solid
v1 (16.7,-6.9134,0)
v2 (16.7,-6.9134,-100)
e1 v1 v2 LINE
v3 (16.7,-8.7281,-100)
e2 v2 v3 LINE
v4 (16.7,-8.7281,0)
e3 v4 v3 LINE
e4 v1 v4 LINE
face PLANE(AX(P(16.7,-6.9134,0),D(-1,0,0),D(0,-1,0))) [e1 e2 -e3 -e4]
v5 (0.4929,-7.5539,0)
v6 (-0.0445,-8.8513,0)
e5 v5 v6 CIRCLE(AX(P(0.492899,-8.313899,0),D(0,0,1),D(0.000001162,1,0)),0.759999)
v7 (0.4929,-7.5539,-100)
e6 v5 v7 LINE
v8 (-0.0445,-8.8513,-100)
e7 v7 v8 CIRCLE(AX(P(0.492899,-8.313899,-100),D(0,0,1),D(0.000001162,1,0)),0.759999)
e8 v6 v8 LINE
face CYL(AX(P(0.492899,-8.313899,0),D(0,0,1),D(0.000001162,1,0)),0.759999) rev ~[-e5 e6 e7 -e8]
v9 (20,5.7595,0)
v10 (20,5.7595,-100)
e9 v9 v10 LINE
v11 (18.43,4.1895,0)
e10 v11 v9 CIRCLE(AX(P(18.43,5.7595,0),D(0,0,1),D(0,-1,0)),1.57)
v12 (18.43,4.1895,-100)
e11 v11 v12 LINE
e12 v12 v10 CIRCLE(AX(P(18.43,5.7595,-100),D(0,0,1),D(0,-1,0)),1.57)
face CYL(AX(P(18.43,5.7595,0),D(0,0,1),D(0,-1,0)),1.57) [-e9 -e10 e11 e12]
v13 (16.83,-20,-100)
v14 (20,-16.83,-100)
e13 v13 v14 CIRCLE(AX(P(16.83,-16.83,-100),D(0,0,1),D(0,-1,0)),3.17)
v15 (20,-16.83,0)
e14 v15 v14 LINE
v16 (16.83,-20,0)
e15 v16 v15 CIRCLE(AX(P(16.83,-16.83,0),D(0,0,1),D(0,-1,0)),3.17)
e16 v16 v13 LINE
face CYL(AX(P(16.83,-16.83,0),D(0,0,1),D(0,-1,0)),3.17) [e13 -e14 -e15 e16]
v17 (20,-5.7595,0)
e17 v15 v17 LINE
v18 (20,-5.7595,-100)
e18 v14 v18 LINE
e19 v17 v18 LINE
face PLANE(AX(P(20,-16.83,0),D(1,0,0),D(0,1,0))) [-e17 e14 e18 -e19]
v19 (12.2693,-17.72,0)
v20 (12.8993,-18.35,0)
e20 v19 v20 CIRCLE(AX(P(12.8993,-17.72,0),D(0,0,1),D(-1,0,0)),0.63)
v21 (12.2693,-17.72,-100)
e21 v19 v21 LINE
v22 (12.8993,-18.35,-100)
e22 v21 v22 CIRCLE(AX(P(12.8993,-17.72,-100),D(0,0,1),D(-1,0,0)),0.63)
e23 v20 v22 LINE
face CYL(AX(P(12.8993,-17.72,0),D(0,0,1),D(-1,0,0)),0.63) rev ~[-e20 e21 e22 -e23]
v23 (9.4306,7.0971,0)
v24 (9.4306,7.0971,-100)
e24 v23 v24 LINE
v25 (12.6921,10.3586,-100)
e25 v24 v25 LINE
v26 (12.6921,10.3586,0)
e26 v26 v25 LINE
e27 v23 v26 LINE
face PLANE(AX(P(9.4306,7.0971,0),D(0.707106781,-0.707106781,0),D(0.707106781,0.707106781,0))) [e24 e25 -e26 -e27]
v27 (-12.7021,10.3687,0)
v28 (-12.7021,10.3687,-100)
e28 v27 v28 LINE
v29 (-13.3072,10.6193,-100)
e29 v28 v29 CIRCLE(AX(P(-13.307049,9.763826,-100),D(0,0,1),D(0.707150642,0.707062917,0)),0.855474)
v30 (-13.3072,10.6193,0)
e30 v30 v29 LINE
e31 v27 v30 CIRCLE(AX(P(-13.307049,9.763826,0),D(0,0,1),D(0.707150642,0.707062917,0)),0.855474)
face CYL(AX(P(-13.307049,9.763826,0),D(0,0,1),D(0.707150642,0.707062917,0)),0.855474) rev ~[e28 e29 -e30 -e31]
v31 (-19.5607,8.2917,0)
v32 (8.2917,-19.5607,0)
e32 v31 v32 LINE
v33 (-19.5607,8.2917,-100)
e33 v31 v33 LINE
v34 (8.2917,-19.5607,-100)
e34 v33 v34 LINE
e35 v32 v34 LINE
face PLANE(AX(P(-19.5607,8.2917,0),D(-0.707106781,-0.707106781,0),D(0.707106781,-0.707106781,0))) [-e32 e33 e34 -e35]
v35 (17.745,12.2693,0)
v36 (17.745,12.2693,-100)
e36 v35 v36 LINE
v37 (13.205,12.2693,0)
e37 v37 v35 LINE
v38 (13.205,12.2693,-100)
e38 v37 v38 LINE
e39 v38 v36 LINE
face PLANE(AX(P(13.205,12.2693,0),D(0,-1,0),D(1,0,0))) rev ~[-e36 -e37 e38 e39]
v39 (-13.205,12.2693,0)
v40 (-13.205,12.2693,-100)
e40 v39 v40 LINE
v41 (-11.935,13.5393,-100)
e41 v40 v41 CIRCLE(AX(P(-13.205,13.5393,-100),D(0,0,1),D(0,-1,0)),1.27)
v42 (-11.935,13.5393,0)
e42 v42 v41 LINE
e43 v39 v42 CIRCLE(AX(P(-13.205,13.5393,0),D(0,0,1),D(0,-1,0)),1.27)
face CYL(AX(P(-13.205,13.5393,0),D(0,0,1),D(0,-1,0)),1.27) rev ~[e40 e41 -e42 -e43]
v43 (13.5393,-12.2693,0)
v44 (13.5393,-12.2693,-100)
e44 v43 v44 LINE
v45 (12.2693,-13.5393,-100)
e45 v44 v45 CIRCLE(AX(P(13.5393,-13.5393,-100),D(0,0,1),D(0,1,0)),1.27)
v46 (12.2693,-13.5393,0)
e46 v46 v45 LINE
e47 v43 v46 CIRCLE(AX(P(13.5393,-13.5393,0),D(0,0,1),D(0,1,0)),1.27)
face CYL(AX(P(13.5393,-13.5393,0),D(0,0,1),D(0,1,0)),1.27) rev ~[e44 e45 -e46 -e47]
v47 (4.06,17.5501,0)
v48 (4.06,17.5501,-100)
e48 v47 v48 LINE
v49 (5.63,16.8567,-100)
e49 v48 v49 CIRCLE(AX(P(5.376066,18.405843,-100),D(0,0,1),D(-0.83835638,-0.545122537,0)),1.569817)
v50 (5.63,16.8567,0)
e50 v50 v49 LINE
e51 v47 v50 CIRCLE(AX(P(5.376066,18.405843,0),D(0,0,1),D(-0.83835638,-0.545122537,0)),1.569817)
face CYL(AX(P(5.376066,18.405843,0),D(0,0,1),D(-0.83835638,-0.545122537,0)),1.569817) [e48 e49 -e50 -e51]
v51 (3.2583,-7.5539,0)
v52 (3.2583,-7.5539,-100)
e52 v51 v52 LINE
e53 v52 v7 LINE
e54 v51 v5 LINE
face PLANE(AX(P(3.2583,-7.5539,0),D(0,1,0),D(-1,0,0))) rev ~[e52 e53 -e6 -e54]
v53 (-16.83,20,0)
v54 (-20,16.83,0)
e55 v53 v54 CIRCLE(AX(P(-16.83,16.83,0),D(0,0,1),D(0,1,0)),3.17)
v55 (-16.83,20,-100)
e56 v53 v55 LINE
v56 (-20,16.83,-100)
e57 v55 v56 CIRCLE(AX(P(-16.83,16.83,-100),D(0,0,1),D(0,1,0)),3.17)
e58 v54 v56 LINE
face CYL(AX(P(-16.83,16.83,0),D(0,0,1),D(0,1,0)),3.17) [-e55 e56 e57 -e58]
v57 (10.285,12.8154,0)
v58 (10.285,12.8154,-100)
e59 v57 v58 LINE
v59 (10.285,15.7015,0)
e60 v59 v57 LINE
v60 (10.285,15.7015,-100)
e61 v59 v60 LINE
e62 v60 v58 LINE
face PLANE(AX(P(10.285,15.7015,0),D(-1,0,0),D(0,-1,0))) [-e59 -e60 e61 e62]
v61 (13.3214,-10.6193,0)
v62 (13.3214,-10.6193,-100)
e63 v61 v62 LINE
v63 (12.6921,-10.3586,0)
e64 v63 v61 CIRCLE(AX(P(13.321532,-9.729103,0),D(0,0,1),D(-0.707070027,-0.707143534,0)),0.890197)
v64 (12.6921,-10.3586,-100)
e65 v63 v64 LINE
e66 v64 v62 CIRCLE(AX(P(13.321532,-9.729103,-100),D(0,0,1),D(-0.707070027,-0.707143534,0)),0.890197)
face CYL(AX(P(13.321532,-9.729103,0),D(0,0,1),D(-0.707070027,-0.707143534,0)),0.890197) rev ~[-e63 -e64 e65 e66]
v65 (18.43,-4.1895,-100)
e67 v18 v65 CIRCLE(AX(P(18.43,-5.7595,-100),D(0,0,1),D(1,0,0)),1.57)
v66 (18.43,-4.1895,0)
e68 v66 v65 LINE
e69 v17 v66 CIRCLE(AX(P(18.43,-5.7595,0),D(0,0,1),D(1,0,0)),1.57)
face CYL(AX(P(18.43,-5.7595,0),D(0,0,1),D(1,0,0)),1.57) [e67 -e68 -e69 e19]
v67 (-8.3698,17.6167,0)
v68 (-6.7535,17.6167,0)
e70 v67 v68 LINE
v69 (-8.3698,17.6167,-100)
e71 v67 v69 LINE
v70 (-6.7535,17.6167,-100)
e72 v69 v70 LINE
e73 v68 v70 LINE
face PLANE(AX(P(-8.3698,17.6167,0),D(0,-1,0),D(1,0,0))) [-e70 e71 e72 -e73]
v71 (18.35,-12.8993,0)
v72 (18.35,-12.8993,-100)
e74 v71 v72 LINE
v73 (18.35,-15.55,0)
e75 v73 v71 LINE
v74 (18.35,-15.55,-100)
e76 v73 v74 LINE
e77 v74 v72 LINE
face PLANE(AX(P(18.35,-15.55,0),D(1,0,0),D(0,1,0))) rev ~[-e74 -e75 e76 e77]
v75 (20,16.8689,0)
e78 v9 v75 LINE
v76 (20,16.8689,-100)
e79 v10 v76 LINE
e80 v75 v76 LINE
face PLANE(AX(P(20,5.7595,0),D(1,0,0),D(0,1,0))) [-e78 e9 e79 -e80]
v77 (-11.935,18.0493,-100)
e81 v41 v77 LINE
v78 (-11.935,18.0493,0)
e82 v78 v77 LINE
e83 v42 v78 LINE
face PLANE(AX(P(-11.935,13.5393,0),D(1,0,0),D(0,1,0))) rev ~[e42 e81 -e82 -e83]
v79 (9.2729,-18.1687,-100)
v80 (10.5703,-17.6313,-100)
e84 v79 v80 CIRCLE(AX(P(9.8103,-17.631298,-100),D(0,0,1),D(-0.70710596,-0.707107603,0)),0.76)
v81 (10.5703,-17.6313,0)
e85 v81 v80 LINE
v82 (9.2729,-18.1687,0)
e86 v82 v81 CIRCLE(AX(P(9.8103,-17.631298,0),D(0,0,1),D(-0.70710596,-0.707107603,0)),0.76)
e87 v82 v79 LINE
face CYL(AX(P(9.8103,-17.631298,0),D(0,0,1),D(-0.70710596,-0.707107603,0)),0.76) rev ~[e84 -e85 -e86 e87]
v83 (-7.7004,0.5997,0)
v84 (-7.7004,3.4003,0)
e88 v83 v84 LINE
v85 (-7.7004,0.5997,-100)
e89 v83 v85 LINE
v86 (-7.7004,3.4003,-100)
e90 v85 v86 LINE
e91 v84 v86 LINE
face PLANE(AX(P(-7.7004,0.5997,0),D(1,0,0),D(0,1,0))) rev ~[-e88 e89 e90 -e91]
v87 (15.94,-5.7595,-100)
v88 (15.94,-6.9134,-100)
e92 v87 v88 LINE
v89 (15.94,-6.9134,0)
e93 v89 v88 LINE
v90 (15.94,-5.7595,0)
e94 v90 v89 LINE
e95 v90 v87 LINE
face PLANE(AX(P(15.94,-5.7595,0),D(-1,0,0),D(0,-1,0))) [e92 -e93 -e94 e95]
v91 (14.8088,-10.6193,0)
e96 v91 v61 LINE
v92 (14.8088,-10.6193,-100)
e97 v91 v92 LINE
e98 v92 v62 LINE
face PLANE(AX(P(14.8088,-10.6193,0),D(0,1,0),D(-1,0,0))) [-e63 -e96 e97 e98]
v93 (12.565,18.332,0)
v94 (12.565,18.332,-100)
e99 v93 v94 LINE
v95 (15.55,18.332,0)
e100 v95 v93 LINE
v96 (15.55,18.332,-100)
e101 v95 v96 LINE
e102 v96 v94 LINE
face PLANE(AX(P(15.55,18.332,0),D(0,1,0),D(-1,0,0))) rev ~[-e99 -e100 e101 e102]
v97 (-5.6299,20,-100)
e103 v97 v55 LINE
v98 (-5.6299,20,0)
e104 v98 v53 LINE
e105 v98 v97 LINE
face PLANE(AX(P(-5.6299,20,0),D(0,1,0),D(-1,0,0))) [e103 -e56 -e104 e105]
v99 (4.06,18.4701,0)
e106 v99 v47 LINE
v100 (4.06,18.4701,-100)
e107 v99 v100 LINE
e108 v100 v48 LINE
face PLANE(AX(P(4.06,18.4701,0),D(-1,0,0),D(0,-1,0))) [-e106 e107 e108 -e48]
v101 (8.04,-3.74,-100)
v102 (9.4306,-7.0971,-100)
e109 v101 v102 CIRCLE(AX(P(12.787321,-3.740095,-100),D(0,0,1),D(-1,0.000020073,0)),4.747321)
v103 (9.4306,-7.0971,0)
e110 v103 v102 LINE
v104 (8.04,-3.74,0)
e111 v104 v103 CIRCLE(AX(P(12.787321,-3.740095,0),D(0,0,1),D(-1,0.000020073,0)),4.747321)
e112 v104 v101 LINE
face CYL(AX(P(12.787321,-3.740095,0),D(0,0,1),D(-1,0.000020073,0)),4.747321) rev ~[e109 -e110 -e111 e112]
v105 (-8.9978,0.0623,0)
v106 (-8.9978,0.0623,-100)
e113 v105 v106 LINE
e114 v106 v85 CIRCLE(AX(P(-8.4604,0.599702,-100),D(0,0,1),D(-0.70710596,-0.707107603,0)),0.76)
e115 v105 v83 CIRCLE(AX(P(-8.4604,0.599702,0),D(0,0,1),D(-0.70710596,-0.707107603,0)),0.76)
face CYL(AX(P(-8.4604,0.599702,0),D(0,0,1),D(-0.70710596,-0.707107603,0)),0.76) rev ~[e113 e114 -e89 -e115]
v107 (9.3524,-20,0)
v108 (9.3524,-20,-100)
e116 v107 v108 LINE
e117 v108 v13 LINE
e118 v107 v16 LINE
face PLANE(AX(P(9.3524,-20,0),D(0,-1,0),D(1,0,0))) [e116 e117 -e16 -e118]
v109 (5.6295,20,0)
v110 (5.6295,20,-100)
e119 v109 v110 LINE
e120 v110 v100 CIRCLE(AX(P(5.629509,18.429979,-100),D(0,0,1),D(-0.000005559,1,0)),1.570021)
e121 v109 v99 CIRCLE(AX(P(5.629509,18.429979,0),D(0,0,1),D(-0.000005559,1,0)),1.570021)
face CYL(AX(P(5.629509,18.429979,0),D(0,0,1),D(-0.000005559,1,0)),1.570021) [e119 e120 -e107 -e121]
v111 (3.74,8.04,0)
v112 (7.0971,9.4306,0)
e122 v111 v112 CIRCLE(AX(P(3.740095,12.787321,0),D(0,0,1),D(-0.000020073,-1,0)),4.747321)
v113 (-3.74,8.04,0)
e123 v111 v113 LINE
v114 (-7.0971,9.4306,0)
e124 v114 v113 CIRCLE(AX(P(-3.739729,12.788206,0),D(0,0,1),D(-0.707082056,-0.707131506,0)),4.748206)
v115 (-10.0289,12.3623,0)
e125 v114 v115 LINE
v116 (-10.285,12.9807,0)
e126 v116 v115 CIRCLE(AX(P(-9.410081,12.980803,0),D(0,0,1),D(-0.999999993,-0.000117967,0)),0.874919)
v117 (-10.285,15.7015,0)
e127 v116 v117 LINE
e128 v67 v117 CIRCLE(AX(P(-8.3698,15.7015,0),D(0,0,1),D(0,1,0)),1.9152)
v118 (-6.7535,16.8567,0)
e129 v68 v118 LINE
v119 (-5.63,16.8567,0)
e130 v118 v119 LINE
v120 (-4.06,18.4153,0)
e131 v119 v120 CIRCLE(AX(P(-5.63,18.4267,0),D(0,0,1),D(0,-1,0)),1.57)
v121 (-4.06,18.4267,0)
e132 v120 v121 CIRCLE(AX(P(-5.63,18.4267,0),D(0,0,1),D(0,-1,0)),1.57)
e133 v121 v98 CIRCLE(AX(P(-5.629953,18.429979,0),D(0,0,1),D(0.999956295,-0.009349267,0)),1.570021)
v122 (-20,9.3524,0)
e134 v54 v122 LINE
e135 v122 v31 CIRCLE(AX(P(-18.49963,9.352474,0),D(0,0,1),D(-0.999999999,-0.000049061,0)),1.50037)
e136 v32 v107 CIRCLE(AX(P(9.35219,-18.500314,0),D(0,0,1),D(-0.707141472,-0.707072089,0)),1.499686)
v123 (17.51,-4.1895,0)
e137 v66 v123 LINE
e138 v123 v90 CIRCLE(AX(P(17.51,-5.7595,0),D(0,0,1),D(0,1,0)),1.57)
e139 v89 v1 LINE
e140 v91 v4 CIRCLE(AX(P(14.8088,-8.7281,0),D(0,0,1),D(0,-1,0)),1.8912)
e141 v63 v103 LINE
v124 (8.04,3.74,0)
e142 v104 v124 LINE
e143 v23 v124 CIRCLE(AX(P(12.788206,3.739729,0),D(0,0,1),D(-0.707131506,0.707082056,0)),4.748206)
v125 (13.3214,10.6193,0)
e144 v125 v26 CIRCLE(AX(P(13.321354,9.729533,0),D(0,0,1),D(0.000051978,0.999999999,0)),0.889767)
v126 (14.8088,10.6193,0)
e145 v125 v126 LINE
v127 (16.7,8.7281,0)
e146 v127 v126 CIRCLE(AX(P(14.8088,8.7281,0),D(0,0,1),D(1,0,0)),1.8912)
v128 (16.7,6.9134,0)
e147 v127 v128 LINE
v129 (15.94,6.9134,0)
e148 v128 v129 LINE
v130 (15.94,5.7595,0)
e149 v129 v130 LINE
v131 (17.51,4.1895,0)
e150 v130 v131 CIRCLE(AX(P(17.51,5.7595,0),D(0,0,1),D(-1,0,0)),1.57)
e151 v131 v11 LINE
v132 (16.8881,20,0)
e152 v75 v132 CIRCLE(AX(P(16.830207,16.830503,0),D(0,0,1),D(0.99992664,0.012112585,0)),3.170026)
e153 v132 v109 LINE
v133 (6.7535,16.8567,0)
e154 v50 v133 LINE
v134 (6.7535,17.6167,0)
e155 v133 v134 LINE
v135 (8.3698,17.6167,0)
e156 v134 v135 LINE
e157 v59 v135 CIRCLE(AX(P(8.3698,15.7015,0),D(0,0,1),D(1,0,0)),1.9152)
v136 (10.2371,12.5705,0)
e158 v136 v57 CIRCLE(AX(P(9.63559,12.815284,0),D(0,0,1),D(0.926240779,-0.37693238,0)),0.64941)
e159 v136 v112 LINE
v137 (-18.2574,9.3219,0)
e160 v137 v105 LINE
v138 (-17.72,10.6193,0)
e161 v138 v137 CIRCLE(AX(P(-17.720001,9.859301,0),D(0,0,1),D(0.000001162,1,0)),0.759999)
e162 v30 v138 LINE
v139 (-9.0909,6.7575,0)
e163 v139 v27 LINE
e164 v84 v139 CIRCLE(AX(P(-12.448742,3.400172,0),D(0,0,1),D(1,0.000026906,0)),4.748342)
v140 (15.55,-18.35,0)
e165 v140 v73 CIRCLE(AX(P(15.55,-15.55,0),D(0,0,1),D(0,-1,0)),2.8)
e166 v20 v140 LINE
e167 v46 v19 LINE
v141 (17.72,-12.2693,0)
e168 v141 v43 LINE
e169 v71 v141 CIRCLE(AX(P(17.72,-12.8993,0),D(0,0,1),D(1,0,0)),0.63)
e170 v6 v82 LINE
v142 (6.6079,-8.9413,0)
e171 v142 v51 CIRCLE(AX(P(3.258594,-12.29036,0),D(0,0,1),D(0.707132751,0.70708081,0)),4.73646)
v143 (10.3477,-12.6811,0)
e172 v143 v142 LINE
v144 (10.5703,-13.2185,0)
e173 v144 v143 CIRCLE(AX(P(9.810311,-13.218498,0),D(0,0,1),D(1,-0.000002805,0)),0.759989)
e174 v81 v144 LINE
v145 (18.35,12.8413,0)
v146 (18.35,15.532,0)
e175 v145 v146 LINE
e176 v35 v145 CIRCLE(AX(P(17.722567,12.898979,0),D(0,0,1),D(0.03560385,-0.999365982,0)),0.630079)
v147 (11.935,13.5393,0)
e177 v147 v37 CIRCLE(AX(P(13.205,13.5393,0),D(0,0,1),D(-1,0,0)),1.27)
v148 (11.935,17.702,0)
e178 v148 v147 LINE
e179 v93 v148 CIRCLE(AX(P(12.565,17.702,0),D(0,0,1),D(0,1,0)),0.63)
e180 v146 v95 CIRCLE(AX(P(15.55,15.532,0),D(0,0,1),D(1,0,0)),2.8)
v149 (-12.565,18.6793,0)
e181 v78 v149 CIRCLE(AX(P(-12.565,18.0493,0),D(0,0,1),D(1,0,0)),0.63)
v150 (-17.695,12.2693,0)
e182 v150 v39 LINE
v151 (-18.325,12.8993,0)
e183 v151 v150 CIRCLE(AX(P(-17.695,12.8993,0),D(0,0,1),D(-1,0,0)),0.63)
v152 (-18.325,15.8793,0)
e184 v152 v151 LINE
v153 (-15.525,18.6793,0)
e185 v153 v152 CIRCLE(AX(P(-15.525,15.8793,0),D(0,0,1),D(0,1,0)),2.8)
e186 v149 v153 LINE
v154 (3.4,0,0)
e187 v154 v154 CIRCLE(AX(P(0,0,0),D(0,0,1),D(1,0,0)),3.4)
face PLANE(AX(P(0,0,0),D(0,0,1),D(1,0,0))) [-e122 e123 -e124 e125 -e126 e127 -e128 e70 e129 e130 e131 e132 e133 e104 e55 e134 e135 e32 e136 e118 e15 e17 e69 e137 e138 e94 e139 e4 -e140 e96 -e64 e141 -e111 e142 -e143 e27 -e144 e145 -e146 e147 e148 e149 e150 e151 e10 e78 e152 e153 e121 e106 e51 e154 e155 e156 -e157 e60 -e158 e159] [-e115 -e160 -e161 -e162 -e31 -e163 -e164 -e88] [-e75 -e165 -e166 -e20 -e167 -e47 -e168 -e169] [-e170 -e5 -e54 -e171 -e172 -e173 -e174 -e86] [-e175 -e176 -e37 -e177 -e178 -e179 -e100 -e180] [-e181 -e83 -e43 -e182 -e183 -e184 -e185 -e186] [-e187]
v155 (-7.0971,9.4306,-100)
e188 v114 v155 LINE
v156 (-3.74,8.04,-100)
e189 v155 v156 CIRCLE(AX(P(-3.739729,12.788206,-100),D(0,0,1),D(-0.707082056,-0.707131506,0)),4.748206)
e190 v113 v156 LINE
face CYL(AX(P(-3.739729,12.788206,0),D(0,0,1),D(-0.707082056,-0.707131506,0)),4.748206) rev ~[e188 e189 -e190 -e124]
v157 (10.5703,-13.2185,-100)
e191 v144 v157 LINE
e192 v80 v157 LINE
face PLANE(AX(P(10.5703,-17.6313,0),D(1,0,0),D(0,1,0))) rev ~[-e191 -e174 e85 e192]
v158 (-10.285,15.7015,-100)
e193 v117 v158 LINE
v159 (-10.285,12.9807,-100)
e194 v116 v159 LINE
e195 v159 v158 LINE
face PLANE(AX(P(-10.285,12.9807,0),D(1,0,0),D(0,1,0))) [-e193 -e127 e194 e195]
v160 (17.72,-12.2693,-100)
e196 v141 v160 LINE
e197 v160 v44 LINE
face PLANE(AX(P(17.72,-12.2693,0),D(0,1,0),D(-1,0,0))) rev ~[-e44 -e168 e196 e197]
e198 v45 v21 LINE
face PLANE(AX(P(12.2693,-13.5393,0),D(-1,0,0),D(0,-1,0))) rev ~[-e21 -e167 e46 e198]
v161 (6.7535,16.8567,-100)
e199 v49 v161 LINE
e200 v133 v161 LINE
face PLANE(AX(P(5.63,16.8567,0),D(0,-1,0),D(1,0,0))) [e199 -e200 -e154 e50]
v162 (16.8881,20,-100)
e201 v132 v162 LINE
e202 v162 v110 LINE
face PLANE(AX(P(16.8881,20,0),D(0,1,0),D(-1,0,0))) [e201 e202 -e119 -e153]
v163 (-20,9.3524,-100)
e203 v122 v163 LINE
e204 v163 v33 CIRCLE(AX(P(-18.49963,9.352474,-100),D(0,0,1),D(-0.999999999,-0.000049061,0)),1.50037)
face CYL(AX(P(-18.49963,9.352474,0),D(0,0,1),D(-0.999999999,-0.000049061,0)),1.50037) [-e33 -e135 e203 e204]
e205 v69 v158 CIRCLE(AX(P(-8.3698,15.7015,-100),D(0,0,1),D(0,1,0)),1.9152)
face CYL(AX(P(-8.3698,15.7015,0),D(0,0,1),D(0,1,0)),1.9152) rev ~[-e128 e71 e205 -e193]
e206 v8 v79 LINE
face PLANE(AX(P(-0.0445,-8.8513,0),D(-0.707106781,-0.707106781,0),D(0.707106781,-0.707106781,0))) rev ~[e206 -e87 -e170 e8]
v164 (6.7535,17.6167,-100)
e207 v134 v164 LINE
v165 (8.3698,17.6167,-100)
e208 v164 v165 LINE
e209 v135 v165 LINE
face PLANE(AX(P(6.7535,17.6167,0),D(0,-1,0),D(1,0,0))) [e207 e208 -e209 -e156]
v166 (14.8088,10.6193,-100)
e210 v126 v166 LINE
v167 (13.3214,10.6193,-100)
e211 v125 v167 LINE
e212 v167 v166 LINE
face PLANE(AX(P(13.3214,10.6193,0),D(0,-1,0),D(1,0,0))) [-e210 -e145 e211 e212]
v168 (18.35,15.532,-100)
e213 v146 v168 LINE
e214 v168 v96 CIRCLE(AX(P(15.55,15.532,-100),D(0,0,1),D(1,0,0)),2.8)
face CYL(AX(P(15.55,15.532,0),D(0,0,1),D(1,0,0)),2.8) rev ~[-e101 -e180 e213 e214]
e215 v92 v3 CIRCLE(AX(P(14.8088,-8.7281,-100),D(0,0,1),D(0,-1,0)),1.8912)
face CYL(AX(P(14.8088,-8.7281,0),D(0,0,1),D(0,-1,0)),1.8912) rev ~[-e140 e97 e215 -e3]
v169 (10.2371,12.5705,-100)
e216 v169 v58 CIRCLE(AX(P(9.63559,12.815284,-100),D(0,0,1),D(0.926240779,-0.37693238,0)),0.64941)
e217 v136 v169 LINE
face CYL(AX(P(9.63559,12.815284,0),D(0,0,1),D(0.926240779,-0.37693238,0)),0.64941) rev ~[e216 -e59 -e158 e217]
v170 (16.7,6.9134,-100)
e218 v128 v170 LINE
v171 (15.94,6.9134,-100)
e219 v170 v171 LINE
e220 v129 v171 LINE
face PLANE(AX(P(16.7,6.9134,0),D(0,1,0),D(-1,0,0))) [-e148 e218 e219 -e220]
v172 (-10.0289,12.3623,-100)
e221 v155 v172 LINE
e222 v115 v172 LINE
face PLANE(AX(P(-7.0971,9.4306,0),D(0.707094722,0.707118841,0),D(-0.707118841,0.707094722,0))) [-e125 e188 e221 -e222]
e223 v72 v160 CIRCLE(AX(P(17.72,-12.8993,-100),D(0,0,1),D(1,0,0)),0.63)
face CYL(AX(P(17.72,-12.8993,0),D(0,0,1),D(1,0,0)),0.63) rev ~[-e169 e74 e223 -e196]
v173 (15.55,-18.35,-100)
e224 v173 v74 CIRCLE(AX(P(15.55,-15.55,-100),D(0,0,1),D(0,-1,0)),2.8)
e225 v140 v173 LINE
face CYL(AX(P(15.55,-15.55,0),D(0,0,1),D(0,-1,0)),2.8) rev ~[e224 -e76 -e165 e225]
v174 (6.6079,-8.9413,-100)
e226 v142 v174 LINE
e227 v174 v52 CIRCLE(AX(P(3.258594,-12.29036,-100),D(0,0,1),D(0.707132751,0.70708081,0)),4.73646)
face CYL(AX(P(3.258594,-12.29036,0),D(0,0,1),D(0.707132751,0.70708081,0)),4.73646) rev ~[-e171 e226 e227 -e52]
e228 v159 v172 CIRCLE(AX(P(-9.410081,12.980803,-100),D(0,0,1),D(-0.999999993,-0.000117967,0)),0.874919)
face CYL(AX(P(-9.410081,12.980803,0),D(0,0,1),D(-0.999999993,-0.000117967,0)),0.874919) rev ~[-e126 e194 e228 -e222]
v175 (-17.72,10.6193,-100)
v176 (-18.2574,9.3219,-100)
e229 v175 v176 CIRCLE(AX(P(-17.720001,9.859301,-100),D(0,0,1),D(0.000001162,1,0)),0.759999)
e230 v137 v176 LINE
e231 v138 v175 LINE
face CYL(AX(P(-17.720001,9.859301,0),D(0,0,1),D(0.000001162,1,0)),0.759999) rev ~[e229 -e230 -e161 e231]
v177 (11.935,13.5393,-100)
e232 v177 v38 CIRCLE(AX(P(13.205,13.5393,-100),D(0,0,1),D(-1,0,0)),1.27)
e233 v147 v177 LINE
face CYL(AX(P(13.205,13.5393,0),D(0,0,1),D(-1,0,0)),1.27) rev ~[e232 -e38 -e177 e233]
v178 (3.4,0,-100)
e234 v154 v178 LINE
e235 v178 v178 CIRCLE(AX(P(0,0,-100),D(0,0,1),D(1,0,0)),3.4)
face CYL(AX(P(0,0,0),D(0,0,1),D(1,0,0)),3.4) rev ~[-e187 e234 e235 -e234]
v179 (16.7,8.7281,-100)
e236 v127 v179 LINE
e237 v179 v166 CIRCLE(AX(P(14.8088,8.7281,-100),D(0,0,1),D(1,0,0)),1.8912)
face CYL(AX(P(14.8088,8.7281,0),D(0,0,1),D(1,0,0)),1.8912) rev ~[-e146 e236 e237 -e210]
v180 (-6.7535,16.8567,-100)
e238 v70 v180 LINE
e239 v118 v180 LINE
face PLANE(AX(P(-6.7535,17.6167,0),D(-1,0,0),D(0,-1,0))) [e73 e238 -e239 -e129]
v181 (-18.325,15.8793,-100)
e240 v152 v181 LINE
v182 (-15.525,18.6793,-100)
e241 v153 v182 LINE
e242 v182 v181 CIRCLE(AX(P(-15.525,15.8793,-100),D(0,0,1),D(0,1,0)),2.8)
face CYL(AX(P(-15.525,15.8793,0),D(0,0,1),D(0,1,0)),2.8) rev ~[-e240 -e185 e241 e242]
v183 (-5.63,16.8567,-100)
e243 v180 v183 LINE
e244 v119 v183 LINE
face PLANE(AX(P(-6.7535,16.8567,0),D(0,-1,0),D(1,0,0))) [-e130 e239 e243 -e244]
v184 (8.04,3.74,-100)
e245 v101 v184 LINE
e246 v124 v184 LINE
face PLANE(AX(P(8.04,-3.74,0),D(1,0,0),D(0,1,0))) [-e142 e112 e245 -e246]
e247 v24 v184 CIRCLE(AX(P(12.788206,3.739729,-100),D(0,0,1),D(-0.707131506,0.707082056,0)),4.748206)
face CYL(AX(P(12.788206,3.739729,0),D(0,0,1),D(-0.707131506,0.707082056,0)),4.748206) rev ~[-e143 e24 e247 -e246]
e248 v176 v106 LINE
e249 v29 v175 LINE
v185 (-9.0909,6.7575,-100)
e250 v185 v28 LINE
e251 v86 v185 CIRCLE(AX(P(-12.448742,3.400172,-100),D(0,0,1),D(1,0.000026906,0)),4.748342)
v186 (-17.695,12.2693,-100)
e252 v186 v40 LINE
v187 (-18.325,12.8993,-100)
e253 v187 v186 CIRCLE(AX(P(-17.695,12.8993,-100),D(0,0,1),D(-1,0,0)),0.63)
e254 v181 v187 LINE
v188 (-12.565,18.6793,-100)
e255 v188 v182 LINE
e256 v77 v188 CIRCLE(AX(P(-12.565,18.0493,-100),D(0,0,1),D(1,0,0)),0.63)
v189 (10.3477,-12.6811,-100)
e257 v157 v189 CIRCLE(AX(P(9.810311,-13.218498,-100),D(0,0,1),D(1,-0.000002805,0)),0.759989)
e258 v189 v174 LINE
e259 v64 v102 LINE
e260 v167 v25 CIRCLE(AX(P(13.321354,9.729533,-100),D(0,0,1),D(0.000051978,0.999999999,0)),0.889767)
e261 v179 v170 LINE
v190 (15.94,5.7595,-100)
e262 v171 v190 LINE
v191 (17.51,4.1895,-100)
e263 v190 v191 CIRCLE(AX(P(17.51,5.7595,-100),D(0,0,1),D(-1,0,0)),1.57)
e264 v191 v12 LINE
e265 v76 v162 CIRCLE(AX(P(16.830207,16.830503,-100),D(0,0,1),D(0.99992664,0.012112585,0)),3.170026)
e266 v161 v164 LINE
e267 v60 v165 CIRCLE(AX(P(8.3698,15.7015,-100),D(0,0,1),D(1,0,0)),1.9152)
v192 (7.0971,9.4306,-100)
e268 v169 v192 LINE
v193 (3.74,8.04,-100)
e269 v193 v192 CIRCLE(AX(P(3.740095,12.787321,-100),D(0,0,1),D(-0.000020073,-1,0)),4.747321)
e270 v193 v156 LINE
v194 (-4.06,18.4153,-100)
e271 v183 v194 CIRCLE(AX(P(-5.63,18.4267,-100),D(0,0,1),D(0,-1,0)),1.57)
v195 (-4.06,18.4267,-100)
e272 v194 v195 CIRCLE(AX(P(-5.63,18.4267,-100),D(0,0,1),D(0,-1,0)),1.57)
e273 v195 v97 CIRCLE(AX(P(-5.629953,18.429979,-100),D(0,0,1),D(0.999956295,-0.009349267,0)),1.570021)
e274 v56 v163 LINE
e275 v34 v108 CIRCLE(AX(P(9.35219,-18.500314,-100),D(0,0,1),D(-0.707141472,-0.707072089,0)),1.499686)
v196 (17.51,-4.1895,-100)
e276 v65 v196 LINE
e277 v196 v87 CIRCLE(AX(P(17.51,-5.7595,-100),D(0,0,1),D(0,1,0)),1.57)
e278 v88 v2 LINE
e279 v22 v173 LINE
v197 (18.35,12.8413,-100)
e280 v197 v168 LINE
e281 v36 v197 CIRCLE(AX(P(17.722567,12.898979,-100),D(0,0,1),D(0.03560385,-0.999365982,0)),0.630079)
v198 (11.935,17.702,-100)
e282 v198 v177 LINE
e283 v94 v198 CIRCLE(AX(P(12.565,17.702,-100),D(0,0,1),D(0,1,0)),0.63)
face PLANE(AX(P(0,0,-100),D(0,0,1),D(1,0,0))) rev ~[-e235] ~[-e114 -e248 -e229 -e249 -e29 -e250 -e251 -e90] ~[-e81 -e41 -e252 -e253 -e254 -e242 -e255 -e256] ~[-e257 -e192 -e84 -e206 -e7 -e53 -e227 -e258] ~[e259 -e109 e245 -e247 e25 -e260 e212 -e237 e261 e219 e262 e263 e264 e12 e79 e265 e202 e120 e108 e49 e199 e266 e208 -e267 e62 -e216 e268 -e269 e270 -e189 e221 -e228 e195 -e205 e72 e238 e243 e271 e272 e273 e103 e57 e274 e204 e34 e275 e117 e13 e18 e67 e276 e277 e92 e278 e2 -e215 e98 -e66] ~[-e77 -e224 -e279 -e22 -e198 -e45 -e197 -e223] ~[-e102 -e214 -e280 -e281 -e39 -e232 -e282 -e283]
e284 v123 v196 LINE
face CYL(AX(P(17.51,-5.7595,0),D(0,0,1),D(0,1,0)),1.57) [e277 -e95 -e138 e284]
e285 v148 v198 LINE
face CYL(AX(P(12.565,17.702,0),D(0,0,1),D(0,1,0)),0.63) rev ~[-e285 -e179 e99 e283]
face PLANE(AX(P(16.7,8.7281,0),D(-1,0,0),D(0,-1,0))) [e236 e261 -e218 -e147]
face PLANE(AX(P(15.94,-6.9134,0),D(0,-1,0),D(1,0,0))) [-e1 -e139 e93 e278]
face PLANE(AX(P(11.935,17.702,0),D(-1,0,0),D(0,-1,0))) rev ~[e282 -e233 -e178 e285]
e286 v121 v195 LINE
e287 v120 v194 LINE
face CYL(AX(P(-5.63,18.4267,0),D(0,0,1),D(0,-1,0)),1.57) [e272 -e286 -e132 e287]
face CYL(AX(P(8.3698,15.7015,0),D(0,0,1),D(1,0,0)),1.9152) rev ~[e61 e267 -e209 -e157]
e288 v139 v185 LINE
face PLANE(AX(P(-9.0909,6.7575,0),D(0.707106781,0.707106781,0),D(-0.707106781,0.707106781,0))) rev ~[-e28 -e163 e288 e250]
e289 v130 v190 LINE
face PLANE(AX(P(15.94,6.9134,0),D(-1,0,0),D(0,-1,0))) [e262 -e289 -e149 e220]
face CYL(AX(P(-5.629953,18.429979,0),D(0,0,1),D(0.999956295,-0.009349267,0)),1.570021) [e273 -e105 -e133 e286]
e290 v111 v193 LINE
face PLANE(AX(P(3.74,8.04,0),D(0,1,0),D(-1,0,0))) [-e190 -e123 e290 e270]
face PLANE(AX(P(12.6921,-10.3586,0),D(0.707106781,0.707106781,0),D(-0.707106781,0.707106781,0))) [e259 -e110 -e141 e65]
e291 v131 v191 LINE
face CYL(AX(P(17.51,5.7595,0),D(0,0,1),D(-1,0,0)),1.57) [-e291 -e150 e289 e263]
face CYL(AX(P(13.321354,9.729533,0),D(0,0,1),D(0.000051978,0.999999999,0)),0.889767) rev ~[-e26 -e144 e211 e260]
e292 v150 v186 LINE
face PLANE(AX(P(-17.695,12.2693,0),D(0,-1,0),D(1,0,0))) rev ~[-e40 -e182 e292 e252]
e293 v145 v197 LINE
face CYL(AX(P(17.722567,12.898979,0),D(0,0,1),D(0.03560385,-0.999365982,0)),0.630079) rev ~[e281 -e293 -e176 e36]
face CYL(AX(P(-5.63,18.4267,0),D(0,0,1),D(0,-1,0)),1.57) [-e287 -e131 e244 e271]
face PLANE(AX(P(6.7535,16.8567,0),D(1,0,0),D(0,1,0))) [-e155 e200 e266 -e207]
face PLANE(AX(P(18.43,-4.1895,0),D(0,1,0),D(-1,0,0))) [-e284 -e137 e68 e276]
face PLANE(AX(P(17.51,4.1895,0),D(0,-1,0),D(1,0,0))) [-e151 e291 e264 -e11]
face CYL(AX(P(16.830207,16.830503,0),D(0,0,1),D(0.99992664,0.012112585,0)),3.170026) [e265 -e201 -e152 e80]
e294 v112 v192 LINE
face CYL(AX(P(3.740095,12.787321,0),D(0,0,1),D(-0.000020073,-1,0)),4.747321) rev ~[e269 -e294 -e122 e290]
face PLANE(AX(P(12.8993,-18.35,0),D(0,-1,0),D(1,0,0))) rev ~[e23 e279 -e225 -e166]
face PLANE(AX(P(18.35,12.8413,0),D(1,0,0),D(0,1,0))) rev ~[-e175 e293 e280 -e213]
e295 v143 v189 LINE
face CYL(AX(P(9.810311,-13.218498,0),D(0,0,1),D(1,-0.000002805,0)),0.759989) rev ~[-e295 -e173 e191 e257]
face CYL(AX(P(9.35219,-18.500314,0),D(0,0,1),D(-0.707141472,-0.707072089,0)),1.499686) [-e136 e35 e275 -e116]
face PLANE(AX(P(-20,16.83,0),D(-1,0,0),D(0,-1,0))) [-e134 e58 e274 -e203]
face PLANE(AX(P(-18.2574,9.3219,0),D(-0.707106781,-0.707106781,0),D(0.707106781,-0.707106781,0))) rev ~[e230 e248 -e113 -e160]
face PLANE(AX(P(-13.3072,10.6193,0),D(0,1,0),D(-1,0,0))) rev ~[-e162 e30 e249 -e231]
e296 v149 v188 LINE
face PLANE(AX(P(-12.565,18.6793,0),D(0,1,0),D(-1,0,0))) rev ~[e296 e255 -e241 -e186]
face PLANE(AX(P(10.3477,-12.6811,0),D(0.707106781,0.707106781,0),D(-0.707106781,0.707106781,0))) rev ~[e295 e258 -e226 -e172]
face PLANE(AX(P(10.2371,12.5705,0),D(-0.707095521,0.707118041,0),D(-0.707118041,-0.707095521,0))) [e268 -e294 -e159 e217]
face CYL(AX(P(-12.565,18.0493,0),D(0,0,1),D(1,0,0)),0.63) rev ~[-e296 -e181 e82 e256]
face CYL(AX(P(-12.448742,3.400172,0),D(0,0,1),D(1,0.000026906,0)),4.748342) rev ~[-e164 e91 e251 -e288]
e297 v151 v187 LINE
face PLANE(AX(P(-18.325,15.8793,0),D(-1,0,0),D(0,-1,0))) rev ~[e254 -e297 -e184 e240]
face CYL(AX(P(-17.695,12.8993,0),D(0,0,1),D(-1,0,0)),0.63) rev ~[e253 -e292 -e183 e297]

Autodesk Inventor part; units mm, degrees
ref_plane "YZ Plane" through (0, 0, 0) normal (1, 0, 0) x (0, 1, 0)
ref_plane "XZ Plane" through (0, 0, 0) normal (0, 1, 0) x (-1, 0, 0)
ref_plane "XY Plane" through (0, 0, 0) normal (0, 0, 1) x (1, 0, 0)
sketch "Sketch1" plane through (0, 0, 0) normal (0, 0, 1) x (1, 0, 0)
  circle A0 centre (0, 0) radius 3.4
  arc A1 (-13.205, 12.2693) -> (-11.935, 13.5393) centre (-13.205, 13.5393) ccw
  line L0 (-17.695, 12.2693) -> (-13.205, 12.2693)
  arc A2 (-18.325, 12.8993) -> (-17.695, 12.2693) centre (-17.695, 12.8993) ccw
  line L1 (-18.325, 15.8793) -> (-18.325, 12.8993)
  arc A3 (-15.525, 18.6793) -> (-18.325, 15.8793) centre (-15.525, 15.8793) ccw
  line L2 (-12.565, 18.6793) -> (-15.525, 18.6793)
  arc A4 (-11.935, 18.0493) -> (-12.565, 18.6793) centre (-12.565, 18.0493) ccw
  line L3 (-11.935, 13.5393) -> (-11.935, 18.0493)
  arc A5 (-7.7004, 3.4003) -> (-9.0909, 6.7575) centre (-12.4481, 3.4003) ccw
  line L4 (-7.7004, 0.5997) -> (-7.7004, 3.4003)
  arc A6 (-8.9978, 0.0623) -> (-7.7004, 0.5997) centre (-8.4604, 0.5997) ccw
  line L5 (-18.2574, 9.3219) -> (-8.9978, 0.0623)
  arc A7 (-17.72, 10.6193) -> (-18.2574, 9.3219) centre (-17.72, 9.8593) ccw
  line L6 (-13.3072, 10.6193) -> (-17.72, 10.6193)
  arc A8 (-12.7021, 10.3687) -> (-13.3072, 10.6193) centre (-13.3072, 9.7636) ccw
  line L7 (-9.0909, 6.7575) -> (-12.7021, 10.3687)
  arc A9 (10.5703, -13.2185) -> (10.3477, -12.6811) centre (9.8103, -13.2185) ccw
  line L8 (10.5703, -17.6313) -> (10.5703, -13.2185)
  arc A10 (9.2729, -18.1687) -> (10.5703, -17.6313) centre (9.8103, -17.6313) ccw
  line L9 (-0.0445, -8.8513) -> (9.2729, -18.1687)
  arc A11 (0.4929, -7.5539) -> (-0.0445, -8.8513) centre (0.4929, -8.3139) ccw
  line L10 (3.2583, -7.5539) -> (0.4929, -7.5539)
  arc A12 (6.6079, -8.9413) -> (3.2583, -7.5539) centre (3.2583, -12.2908) ccw
  line L11 (10.3477, -12.6811) -> (6.6079, -8.9413)
  arc A13 (12.2693, -17.72) -> (12.8993, -18.35) centre (12.8993, -17.72) ccw
  line L12 (12.2693, -13.5393) -> (12.2693, -17.72)
  arc A14 (13.5393, -12.2693) -> (12.2693, -13.5393) centre (13.5393, -13.5393) ccw
  line L13 (17.72, -12.2693) -> (13.5393, -12.2693)
  arc A15 (18.35, -12.8993) -> (17.72, -12.2693) centre (17.72, -12.8993) ccw
  line L14 (18.35, -15.55) -> (18.35, -12.8993)
  arc A16 (15.55, -18.35) -> (18.35, -15.55) centre (15.55, -15.55) ccw
  line L15 (12.8993, -18.35) -> (15.55, -18.35)
  arc A17 (12.565, 18.332) -> (11.935, 17.702) centre (12.565, 17.702) ccw
  line L16 (15.55, 18.332) -> (12.565, 18.332)
  arc A18 (18.35, 15.532) -> (15.55, 18.332) centre (15.55, 15.532) ccw
  line L17 (18.35, 12.8413) -> (18.35, 15.532)
  arc A19 (17.745, 12.2693) -> (18.35, 12.8413) centre (17.7226, 12.8989) ccw
  line L18 (13.205, 12.2693) -> (17.745, 12.2693)
  arc A20 (11.935, 13.5393) -> (13.205, 12.2693) centre (13.205, 13.5393) ccw
  line L19 (11.935, 17.702) -> (11.935, 13.5393)
  arc A21 (8.04, -3.74) -> (9.4306, -7.0971) centre (12.7878, -3.74) ccw
  line L20 (8.04, -3.74) -> (8.04, 3.74)
  arc A22 (9.4306, 7.0971) -> (8.04, 3.74) centre (12.7878, 3.74) ccw
  line L21 (9.4306, 7.0971) -> (12.6921, 10.3586)
  arc A23 (13.3214, 10.6193) -> (12.6921, 10.3586) centre (13.3214, 9.7293) ccw
  line L22 (13.3214, 10.6193) -> (14.8088, 10.6193)
  arc A24 (16.7, 8.7281) -> (14.8088, 10.6193) centre (14.8088, 8.7281) ccw
  line L23 (16.7, 8.7281) -> (16.7, 6.9134)
  line L24 (16.7, 6.9134) -> (15.94, 6.9134)
  line L25 (15.94, 6.9134) -> (15.94, 5.7595)
  arc A25 (15.94, 5.7595) -> (17.51, 4.1895) centre (17.51, 5.7595) ccw
  line L26 (17.51, 4.1895) -> (18.43, 4.1895)
  arc A26 (18.43, 4.1895) -> (20, 5.7595) centre (18.43, 5.7595) ccw
  line L27 (20, 5.7595) -> (20, 16.8689)
  arc A27 (20, 16.8689) -> (16.8881, 20) centre (16.8302, 16.8305) ccw
  line L28 (16.8881, 20) -> (5.6295, 20)
  arc A28 (5.6295, 20) -> (4.06, 18.4701) centre (5.6295, 18.43) ccw
  line L29 (4.06, 18.4701) -> (4.06, 17.5501)
  arc A29 (4.06, 17.5501) -> (5.63, 16.8567) centre (5.3762, 18.406) ccw
  line L30 (5.63, 16.8567) -> (6.7535, 16.8567)
  line L31 (6.7535, 16.8567) -> (6.7535, 17.6167)
  line L32 (6.7535, 17.6167) -> (8.3698, 17.6167)
  arc A30 (10.285, 15.7015) -> (8.3698, 17.6167) centre (8.3698, 15.7015) ccw
  line L33 (10.285, 15.7015) -> (10.285, 12.8154)
  arc A31 (10.2371, 12.5705) -> (10.285, 12.8154) centre (9.6352, 12.8154) ccw
  line L34 (10.2371, 12.5705) -> (7.0971, 9.4306)
  arc A32 (3.74, 8.04) -> (7.0971, 9.4306) centre (3.74, 12.7878) ccw
  line L35 (3.74, 8.04) -> (-3.74, 8.04)
  arc A33 (-7.0971, 9.4306) -> (-3.74, 8.04) centre (-3.74, 12.7878) ccw
  line L36 (-7.0971, 9.4306) -> (-10.0289, 12.3623)
  arc A34 (-10.285, 12.9807) -> (-10.0289, 12.3623) centre (-9.4106, 12.9807) ccw
  line L37 (-10.285, 12.9807) -> (-10.285, 15.7015)
  arc A35 (-8.3698, 17.6167) -> (-10.285, 15.7015) centre (-8.3698, 15.7015) ccw
  line L38 (-8.3698, 17.6167) -> (-6.7535, 17.6167)
  line L39 (-6.7535, 17.6167) -> (-6.7535, 16.8567)
  line L40 (-6.7535, 16.8567) -> (-5.63, 16.8567)
  arc A36 (-5.63, 16.8567) -> (-4.06, 18.4267) centre (-5.63, 18.4267) ccw
  line L41 (-4.06, 18.4267) -> (-4.06, 18.4153)
  arc A37 (-4.06, 18.4153) -> (-5.6299, 20) centre (-5.6299, 18.43) ccw
  line L42 (-5.6299, 20) -> (-16.83, 20)
  arc A38 (-16.83, 20) -> (-20, 16.83) centre (-16.83, 16.83) ccw
  line L43 (-20, 16.83) -> (-20, 9.3524)
  arc A39 (-20, 9.3524) -> (-19.5607, 8.2917) centre (-18.5, 9.3524) ccw
  line L44 (-19.5607, 8.2917) -> (8.2917, -19.5607)
  arc A40 (8.2917, -19.5607) -> (9.3524, -20) centre (9.3524, -18.5) ccw
  line L45 (9.3524, -20) -> (16.83, -20)
  arc A41 (16.83, -20) -> (20, -16.83) centre (16.83, -16.83) ccw
  line L46 (20, -16.83) -> (20, -5.7595)
  arc A42 (20, -5.7595) -> (18.43, -4.1895) centre (18.43, -5.7595) ccw
  line L47 (18.43, -4.1895) -> (17.51, -4.1895)
  arc A43 (17.51, -4.1895) -> (15.94, -5.7595) centre (17.51, -5.7595) ccw
  line L48 (15.94, -5.7595) -> (15.94, -6.9134)
  line L49 (15.94, -6.9134) -> (16.7, -6.9134)
  line L50 (16.7, -6.9134) -> (16.7, -8.7281)
  arc A44 (14.8088, -10.6193) -> (16.7, -8.7281) centre (14.8088, -8.7281) ccw
  line L51 (14.8088, -10.6193) -> (13.3214, -10.6193)
  arc A45 (12.6921, -10.3586) -> (13.3214, -10.6193) centre (13.3214, -9.7293) ccw
  line L52 (12.6921, -10.3586) -> (9.4306, -7.0971)
extrude "Extrusion1" add sketch "Sketch1" against normal blind 100
properties part number "40-4045-LITE"
